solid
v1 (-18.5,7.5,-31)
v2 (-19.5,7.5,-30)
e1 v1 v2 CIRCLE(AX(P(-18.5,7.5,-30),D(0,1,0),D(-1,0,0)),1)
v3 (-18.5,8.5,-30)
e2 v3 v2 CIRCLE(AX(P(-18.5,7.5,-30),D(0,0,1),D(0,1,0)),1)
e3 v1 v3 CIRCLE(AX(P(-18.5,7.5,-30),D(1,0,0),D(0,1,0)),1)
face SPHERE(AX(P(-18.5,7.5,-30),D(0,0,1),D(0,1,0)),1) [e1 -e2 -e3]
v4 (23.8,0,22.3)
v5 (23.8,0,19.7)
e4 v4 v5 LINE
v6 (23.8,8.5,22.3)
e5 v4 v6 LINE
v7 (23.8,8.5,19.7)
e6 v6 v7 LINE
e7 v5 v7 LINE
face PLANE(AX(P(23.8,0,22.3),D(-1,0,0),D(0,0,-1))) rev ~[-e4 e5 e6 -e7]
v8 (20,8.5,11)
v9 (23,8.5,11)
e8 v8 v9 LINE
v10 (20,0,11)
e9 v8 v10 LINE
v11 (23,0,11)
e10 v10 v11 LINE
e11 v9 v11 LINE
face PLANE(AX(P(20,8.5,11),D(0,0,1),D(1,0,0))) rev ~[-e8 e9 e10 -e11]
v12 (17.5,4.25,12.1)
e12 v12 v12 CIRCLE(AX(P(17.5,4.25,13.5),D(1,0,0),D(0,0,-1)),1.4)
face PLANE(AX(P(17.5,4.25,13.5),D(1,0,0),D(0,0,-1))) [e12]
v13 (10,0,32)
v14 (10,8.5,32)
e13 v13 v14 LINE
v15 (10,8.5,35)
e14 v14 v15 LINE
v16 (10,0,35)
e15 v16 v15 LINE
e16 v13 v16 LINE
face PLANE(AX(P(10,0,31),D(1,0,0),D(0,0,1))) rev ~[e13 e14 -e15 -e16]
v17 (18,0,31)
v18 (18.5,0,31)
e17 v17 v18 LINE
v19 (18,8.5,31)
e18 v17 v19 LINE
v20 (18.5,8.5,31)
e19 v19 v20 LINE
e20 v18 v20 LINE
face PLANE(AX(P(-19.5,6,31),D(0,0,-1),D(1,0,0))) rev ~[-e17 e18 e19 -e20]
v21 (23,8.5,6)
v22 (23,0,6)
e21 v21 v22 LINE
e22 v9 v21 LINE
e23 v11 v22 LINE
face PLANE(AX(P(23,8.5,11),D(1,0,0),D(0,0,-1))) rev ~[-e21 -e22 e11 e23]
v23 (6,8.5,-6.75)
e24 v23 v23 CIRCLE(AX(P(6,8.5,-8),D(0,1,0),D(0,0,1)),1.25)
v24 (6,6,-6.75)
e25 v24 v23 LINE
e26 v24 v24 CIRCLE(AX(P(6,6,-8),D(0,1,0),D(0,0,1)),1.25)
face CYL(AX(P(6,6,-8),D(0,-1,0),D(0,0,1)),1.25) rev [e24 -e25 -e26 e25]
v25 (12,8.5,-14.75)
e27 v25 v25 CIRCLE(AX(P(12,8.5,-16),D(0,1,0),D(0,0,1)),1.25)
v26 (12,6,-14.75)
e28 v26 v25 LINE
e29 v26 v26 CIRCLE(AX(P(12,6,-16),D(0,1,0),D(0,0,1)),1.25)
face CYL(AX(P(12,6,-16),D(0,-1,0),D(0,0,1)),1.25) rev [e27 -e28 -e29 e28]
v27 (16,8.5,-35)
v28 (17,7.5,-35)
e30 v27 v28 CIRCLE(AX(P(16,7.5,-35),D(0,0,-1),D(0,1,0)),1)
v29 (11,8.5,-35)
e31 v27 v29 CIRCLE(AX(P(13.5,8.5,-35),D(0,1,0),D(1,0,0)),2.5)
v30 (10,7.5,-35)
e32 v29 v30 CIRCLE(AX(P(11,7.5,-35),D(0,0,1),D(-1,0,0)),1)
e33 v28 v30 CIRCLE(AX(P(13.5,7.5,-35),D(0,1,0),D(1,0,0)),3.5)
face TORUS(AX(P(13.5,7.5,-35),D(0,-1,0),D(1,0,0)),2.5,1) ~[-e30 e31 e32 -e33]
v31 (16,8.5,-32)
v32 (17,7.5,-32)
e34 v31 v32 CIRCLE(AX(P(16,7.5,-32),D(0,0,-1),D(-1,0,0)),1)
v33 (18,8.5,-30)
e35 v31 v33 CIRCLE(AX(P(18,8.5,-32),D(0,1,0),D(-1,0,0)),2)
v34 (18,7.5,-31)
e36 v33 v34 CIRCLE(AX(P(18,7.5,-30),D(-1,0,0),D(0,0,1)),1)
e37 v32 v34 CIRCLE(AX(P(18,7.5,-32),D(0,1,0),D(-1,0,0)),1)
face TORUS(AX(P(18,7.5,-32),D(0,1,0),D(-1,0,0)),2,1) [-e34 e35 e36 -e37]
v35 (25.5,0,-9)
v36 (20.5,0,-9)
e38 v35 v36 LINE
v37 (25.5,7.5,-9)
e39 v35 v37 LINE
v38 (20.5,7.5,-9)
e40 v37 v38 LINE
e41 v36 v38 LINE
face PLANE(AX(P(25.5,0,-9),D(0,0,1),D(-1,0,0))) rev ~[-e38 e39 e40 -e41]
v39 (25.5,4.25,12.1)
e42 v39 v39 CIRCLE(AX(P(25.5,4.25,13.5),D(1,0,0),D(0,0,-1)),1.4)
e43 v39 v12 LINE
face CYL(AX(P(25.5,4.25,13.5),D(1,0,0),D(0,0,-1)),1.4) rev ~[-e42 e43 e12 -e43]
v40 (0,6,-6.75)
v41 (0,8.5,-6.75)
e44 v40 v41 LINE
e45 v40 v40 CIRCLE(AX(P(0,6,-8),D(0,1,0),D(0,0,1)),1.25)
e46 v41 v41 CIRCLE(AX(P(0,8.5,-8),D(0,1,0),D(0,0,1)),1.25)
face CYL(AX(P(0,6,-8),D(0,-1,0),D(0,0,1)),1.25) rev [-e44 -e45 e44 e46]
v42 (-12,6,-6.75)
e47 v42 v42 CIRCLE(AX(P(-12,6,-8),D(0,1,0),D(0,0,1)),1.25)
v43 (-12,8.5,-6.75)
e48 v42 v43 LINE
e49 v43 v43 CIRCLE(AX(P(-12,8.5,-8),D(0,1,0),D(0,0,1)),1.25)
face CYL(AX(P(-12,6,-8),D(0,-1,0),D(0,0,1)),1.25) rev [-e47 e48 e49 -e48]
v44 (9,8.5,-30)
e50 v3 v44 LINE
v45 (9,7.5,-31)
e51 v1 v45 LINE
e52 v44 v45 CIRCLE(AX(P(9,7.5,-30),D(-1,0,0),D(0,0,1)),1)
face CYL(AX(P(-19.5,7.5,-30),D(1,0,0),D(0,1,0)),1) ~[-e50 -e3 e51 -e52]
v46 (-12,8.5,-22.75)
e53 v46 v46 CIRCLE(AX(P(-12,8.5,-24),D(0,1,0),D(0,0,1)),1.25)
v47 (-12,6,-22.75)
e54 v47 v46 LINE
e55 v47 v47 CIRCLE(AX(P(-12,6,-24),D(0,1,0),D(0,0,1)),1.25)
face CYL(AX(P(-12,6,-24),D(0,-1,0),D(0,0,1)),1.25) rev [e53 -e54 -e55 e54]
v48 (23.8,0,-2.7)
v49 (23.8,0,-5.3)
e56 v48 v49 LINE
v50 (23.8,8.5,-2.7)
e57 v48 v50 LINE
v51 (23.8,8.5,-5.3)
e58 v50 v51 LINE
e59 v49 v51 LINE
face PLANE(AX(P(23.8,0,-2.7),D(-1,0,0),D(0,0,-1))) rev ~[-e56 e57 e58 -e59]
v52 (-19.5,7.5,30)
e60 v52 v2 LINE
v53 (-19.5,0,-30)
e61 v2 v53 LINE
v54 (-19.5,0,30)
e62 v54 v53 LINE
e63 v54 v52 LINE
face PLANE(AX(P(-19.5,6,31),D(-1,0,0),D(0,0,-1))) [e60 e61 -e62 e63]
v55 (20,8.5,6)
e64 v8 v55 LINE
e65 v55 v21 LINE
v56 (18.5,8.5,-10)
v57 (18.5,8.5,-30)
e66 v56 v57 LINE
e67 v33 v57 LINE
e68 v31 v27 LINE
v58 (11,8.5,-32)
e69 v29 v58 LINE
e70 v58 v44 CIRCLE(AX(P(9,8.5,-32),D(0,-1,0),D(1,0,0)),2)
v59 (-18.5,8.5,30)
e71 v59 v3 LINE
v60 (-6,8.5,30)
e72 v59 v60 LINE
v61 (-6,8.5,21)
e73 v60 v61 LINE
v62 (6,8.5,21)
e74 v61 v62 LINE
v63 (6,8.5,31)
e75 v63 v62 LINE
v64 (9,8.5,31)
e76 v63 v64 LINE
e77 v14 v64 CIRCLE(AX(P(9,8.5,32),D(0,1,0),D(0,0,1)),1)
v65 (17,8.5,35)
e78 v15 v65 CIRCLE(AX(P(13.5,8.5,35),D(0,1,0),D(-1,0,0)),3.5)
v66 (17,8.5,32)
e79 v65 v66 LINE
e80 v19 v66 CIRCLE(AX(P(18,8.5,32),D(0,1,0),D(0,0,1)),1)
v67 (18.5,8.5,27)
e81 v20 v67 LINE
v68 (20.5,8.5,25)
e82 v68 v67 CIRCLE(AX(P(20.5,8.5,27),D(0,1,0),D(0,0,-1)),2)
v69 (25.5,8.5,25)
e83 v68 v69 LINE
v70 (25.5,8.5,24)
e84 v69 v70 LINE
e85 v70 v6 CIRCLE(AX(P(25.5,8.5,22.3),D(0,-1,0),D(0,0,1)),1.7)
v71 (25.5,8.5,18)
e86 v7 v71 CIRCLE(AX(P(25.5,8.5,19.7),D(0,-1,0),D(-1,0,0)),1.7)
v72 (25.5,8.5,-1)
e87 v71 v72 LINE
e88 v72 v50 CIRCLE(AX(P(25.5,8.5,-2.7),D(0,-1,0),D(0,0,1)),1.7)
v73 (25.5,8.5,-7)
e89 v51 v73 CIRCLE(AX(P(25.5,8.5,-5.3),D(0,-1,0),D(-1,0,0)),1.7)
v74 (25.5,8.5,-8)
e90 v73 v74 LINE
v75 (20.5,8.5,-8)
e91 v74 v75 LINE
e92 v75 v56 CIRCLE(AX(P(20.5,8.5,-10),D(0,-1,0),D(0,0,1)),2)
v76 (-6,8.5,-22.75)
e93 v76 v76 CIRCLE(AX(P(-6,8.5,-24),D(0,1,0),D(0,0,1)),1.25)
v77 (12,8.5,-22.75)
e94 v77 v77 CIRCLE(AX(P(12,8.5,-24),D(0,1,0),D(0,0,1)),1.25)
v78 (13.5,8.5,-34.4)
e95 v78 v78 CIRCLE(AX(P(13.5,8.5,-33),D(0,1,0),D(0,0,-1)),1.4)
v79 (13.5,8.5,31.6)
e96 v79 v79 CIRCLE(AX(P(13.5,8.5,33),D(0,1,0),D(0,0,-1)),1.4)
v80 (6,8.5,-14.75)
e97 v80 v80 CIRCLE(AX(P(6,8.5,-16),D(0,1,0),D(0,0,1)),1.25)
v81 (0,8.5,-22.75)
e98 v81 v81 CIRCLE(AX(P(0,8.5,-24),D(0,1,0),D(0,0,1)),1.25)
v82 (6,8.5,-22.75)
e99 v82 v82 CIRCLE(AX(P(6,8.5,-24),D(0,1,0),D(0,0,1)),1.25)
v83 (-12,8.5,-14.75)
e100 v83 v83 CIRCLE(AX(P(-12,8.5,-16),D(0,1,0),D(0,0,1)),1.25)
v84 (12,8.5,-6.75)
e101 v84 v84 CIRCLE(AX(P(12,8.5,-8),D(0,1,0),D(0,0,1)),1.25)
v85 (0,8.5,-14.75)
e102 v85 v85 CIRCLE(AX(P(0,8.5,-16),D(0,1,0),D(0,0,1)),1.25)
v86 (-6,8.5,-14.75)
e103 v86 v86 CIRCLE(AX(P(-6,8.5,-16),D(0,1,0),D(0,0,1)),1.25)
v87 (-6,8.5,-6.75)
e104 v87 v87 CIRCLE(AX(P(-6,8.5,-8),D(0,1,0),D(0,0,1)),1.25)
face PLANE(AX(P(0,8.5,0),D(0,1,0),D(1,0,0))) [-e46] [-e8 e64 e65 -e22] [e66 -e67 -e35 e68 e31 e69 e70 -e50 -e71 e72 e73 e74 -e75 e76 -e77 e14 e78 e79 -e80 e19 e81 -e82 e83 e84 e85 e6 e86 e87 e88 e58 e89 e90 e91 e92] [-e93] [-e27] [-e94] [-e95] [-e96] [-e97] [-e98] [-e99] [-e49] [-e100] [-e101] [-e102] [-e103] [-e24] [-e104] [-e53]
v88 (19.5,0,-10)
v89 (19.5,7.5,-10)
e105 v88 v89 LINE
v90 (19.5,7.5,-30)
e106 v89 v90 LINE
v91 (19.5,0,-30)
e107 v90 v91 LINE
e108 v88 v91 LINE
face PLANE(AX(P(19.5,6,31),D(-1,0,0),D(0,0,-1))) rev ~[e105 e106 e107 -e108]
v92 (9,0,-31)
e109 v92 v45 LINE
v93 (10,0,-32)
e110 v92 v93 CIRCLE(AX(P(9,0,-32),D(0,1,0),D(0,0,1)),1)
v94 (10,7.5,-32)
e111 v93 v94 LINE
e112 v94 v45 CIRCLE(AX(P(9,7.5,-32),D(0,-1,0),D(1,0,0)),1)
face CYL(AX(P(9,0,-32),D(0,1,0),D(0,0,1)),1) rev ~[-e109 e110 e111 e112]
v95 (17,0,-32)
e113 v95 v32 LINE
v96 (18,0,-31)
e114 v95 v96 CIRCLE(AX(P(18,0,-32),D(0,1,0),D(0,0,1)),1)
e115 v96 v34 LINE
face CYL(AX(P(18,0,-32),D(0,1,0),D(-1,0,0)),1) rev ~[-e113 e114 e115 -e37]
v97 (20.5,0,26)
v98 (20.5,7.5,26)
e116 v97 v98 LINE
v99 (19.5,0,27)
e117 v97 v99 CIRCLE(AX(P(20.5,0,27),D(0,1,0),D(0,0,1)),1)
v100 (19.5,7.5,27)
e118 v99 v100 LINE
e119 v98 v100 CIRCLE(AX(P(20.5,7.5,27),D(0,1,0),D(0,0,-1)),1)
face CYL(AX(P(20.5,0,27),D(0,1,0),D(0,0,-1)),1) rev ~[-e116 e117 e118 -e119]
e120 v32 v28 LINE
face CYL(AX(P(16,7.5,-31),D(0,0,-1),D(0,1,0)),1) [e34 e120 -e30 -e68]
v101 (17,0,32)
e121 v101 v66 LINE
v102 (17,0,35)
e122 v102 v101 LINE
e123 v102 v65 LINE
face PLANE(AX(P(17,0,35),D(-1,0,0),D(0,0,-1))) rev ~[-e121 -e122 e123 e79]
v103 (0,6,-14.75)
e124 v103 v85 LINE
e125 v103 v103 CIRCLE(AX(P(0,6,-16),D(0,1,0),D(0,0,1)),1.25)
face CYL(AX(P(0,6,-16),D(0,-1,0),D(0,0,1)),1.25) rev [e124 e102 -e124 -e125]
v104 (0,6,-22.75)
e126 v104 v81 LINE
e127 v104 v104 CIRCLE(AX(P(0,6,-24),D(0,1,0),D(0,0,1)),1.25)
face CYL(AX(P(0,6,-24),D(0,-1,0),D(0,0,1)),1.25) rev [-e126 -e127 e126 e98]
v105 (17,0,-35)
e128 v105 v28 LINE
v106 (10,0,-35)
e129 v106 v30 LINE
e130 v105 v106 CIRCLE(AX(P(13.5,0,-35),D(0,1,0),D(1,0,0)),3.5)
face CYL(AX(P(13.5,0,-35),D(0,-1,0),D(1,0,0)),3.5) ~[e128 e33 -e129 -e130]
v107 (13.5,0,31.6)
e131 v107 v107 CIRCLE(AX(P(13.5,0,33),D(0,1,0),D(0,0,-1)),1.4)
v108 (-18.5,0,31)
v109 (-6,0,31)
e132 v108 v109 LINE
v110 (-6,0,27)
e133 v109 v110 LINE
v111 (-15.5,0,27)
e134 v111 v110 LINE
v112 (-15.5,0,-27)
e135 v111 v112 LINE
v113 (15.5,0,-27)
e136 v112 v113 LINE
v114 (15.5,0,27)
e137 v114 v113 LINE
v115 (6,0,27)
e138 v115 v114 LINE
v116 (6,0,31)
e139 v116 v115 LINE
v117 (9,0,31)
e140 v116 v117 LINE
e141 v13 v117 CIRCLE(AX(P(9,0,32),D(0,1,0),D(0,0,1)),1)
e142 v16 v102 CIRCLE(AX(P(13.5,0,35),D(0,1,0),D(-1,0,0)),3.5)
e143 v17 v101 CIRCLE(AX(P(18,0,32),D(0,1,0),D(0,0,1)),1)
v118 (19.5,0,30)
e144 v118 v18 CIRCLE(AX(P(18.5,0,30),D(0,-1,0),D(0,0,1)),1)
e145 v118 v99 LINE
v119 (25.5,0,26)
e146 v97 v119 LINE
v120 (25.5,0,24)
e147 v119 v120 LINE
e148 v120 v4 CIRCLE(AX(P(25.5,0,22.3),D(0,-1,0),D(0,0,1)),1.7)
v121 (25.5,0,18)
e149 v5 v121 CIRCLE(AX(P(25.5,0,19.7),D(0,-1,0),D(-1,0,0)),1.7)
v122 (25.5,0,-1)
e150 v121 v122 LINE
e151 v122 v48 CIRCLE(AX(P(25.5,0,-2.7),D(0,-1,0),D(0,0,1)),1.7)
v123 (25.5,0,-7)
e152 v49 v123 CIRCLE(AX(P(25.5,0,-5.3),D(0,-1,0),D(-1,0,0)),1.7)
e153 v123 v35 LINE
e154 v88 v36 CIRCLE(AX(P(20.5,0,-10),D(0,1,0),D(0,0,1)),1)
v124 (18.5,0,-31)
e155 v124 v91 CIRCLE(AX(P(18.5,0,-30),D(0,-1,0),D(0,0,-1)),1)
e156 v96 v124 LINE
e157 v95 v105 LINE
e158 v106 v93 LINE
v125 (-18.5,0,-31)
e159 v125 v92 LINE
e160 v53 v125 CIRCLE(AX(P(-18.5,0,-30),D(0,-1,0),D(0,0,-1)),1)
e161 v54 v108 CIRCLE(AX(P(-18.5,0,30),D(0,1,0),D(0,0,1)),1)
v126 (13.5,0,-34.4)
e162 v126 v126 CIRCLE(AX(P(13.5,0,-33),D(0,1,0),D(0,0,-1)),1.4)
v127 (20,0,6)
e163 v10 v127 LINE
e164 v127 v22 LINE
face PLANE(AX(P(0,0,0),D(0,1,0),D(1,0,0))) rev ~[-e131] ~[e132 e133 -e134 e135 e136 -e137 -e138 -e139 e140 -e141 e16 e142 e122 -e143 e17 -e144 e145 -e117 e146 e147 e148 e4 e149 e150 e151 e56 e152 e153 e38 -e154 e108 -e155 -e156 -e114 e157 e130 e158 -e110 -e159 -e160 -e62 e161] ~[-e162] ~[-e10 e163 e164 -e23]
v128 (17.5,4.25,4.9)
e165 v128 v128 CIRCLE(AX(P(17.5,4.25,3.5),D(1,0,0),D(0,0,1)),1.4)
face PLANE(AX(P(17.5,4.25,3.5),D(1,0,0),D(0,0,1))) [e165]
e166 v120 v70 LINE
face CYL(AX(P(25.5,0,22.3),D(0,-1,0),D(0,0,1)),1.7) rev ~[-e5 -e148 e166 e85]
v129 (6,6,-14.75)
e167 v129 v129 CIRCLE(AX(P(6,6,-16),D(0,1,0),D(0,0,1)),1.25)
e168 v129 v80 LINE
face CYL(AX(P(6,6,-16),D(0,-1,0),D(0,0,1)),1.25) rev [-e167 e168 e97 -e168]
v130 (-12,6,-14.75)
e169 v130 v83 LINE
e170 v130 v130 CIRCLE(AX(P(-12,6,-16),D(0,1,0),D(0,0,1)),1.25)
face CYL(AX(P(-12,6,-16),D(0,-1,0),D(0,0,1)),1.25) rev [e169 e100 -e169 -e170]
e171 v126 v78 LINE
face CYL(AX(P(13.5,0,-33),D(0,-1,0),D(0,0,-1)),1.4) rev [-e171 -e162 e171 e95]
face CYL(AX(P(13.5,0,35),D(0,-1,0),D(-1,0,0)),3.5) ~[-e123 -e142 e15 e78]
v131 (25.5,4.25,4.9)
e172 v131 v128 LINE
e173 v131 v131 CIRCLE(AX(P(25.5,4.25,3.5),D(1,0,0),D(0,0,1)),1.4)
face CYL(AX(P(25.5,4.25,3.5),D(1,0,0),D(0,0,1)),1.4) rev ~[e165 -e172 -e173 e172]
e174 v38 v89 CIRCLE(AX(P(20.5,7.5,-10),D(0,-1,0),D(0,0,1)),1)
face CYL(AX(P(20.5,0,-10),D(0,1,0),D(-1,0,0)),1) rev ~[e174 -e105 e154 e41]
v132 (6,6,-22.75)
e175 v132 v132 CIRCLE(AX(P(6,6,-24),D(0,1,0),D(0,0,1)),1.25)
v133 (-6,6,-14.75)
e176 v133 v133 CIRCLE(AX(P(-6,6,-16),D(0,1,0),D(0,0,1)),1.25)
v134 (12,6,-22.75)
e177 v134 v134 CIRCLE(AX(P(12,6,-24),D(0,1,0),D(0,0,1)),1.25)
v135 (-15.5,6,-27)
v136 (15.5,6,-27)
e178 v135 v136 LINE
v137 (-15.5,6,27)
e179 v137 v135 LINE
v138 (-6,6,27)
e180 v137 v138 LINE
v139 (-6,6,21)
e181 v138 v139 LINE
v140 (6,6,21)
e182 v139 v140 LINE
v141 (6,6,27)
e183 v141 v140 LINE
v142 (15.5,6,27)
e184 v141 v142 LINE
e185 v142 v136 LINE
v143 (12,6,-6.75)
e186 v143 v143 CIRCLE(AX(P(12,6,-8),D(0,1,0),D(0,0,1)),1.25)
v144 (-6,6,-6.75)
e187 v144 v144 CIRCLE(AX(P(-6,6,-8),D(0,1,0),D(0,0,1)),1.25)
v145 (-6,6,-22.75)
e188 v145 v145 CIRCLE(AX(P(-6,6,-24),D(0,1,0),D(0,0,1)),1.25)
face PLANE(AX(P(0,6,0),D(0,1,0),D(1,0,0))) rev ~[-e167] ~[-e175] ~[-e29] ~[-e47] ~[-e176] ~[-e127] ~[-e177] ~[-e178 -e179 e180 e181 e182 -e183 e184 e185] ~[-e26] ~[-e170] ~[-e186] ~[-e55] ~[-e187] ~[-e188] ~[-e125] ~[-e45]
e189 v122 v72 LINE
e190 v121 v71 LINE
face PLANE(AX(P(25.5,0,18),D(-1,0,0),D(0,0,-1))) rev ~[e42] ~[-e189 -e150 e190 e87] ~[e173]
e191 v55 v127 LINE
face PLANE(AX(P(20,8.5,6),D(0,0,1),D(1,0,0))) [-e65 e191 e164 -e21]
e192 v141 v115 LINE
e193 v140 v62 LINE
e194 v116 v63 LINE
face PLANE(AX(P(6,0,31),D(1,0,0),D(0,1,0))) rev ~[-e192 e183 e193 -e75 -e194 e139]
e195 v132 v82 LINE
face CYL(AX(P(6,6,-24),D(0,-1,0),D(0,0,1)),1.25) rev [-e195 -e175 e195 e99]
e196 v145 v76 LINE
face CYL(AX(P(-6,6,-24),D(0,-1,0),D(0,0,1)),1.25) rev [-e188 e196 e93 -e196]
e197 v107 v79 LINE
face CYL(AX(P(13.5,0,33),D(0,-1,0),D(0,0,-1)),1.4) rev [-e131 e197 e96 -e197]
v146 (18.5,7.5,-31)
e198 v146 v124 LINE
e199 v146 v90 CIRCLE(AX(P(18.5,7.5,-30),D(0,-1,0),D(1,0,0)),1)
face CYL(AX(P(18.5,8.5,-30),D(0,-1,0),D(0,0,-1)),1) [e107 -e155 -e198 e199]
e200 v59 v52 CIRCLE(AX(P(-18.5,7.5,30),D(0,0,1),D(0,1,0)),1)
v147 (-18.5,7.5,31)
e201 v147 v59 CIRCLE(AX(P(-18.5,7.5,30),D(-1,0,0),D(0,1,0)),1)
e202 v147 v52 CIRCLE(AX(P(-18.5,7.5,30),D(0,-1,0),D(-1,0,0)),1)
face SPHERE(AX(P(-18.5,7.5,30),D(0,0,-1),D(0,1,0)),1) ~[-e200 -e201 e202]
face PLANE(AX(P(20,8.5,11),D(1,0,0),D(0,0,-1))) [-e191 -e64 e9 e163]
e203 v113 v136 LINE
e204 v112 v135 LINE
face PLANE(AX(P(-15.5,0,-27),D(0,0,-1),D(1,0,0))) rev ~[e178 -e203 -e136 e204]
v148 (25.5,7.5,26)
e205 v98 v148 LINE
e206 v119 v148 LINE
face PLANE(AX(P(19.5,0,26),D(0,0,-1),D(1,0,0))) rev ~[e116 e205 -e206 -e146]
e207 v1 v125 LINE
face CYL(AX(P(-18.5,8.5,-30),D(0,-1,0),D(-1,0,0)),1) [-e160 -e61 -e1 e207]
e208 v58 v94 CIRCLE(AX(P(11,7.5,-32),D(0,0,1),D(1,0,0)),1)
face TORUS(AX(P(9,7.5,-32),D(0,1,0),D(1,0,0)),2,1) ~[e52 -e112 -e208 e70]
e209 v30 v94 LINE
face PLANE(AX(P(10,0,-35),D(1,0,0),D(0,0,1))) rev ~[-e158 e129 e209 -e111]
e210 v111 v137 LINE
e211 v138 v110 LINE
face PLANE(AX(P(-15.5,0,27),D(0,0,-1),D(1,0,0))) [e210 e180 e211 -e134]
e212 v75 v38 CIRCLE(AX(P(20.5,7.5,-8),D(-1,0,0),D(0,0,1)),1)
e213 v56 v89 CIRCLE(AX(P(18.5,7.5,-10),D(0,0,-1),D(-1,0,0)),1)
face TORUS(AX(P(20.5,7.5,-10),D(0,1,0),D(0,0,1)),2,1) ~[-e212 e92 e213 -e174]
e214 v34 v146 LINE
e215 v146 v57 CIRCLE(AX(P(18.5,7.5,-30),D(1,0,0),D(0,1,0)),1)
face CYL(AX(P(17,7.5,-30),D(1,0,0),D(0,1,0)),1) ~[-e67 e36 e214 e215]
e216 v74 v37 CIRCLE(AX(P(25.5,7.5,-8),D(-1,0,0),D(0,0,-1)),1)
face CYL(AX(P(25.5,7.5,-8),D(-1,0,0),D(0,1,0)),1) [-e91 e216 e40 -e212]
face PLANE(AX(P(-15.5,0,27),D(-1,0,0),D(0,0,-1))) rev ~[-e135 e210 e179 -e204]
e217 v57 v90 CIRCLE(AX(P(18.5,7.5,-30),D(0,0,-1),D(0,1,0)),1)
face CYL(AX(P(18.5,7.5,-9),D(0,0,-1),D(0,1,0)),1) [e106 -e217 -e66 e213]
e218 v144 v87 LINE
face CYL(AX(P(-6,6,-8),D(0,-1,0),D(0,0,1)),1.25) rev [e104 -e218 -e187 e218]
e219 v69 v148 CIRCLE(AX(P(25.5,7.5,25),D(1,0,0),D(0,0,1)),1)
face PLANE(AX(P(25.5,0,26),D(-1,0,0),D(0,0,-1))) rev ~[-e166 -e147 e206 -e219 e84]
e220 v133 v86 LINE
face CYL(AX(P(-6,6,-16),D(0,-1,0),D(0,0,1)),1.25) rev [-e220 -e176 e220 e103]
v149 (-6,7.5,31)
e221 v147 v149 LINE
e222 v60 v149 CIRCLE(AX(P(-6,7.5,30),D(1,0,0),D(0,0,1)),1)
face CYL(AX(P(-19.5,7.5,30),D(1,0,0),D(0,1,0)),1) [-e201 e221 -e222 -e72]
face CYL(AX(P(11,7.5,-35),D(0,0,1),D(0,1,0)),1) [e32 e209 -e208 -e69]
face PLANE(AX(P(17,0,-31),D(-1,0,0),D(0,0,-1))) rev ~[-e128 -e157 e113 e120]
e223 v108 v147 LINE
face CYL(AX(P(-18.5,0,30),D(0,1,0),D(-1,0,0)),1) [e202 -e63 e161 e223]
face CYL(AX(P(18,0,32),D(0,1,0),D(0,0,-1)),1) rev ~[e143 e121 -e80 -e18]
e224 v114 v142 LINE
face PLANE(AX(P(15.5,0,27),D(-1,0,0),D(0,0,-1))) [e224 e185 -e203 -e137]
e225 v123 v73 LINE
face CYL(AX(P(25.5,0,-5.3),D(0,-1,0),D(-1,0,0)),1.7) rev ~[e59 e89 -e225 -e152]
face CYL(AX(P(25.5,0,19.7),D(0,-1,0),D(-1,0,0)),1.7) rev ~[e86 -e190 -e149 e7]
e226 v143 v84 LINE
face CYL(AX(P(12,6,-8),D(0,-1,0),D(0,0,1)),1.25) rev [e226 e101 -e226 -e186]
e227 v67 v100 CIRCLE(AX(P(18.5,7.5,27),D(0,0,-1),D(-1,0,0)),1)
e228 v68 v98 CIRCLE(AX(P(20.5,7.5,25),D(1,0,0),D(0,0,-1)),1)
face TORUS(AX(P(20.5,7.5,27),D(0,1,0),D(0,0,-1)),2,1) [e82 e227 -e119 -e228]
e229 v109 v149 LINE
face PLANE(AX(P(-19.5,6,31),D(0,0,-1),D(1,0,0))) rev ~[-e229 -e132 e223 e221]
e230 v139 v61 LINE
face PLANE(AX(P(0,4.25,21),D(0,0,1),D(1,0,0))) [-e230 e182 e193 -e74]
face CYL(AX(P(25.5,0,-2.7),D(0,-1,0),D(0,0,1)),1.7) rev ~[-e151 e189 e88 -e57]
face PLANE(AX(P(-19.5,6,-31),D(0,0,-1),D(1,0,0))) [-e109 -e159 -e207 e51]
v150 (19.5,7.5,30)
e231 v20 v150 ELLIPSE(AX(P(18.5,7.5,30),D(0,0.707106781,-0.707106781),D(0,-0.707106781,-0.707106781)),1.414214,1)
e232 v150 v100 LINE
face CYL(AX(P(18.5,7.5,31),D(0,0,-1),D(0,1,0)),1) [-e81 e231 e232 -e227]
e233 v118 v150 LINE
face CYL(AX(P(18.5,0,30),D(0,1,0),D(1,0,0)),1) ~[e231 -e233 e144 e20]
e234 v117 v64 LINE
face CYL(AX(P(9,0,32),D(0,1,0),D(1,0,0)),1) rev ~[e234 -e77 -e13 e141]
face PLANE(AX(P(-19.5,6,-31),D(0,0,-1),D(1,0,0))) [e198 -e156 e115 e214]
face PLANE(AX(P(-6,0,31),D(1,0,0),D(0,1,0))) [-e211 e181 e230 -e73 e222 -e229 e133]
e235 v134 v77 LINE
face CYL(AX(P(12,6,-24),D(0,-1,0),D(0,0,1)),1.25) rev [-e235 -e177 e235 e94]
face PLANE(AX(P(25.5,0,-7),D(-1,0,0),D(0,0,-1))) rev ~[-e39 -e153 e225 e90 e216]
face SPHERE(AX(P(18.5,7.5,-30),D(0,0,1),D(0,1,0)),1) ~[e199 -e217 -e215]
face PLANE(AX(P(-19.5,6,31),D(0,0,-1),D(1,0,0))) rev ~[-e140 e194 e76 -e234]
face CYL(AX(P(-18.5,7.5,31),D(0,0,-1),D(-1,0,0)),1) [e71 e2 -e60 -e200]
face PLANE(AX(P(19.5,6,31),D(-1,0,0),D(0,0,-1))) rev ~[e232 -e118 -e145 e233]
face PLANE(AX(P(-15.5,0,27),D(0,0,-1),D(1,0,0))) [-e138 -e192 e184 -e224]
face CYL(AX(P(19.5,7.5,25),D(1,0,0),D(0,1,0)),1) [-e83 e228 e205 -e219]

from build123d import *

# Parameters (mm, degrees)
SKETCH1_W                      = 39
SKETCH1_H                      = 62
SKETCH1_W_2                    = 31
SKETCH1_H_2                    = 54
BASE_DEPTH                     = 6
SKETCH2_W                      = 39
SKETCH2_H                      = 62
SKETCH2_R                      = 1.25
TOP_COVER_DEPTH                = 2.5
SKETCH3_R                      = 1.4
MOUNTING_ENDS_DEPTH            = 8.5
BASKET_MOUNTING_EDGE_DEPTH     = 8.5
SKETCH6_R                      = 1.4
BASKET_CLAMP_SCREW_HOLES_DEPTH = 8
SKETCH8_W                      = 12
SKETCH8_H                      = 8.5
USB_OPENING_DEPTH              = 10
F_1MM_EDGE_FILLETS_R           = 1
SKETCH7_W                      = 3
SKETCH7_H                      = 5
ZIP_TIE_HOLE_DEPTH             = 47.954765466


with BuildPart() as part:
    # Sketch1 → Base (new body)
    with BuildSketch(Plane(origin=(0, 0, 0), x_dir=(1, 0, 0), z_dir=(0, 1, 0))):
        Rectangle(SKETCH1_W, SKETCH1_H)
        Rectangle(SKETCH1_W_2, SKETCH1_H_2, mode=Mode.SUBTRACT)
    extrude(amount=BASE_DEPTH)

    # Sketch2 → Top Cover (add)
    with BuildSketch(Plane(origin=(0, 6, 0), x_dir=(1, 0, 0), z_dir=(0, 1, 0))):
        Rectangle(SKETCH2_W, SKETCH2_H)
        with Locations(Location((-12, 24, 0), (0, 0, 270))):
            Circle(SKETCH2_R, mode=Mode.SUBTRACT)
        with Locations(Location((-6, 24, 0), (0, 0, 270))):
            Circle(SKETCH2_R, mode=Mode.SUBTRACT)
        with Locations(Location((0, 24, 0), (0, 0, 270))):
            Circle(SKETCH2_R, mode=Mode.SUBTRACT)
        with Locations(Location((6, 24, 0), (0, 0, 270))):
            Circle(SKETCH2_R, mode=Mode.SUBTRACT)
        with Locations(Location((12, 24, 0), (0, 0, 270))):
            Circle(SKETCH2_R, mode=Mode.SUBTRACT)
        with Locations(Location((-6, 16, 0), (0, 0, 270))):
            Circle(SKETCH2_R, mode=Mode.SUBTRACT)
        with Locations(Location((0, 16, 0), (0, 0, 270))):
            Circle(SKETCH2_R, mode=Mode.SUBTRACT)
        with Locations(Location((6, 16, 0), (0, 0, 270))):
            Circle(SKETCH2_R, mode=Mode.SUBTRACT)
        with Locations(Location((12, 16, 0), (0, 0, 270))):
            Circle(SKETCH2_R, mode=Mode.SUBTRACT)
        with Locations(Location((-6, 8, 0), (0, 0, 270))):
            Circle(SKETCH2_R, mode=Mode.SUBTRACT)
        with Locations(Location((0, 8, 0), (0, 0, 270))):
            Circle(SKETCH2_R, mode=Mode.SUBTRACT)
        with Locations(Location((6, 8, 0), (0, 0, 270))):
            Circle(SKETCH2_R, mode=Mode.SUBTRACT)
        with Locations(Location((12, 8, 0), (0, 0, 270))):
            Circle(SKETCH2_R, mode=Mode.SUBTRACT)
        with Locations(Location((-12, 16, 0), (0, 0, 270))):
            Circle(SKETCH2_R, mode=Mode.SUBTRACT)
        with Locations(Location((-12, 8, 0), (0, 0, 270))):
            Circle(SKETCH2_R, mode=Mode.SUBTRACT)
    extrude(amount=TOP_COVER_DEPTH)

    # Sketch3 → Mounting Ends (add)
    # profile 1 of 2: a face of its own
    with BuildSketch(Plane(origin=(0, 0, 0), x_dir=(1, 0, 0), z_dir=(0, 1, 0))):
        with BuildLine():
            Line((10, 31), (17, 31))
            Line((17, 31), (17, 35))
            ThreePointArc((17, 35), (13.5, 38.5), (10, 35))
            Line((10, 35), (10, 31))
        make_face()
        with Locations(Location((13.5, 33, 0), (0, 0, 90))):
            Circle(SKETCH3_R, mode=Mode.SUBTRACT)
    # profile 2 of 2: a face of its own
    with BuildSketch(Plane(origin=(0, 0, 0), x_dir=(1, 0, 0), z_dir=(0, 1, 0))):
        with BuildLine():
            Line((10, -31), (10, -35))
            ThreePointArc((10, -35), (13.5, -38.5), (17, -35))
            Line((17, -35), (17, -31))
            Line((17, -31), (10, -31))
        make_face()
        with Locations(Location((13.5, -33, 0), (0, 0, 90))):
            Circle(SKETCH3_R, mode=Mode.SUBTRACT)
    extrude(amount=MOUNTING_ENDS_DEPTH)

    # Sketch5 → Basket Mounting Edge (add)
    with BuildSketch(Plane(origin=(0, 0, 0), x_dir=(1, 0, 0), z_dir=(0, 1, 0))):
        with BuildLine():
            Line((19.5, -26), (25.5, -26))
            Line((25.5, -26), (25.5, -24))
            ThreePointArc((25.5, -24), (24.297918472, -23.502081528), (23.8, -22.3))
            Line((23.8, -22.3), (23.8, -19.7))
            ThreePointArc((23.8, -19.7), (24.297918472, -18.497918472), (25.5, -18))
            Line((25.5, -18), (25.5, 1))
            ThreePointArc((25.5, 1), (24.297918472, 1.497918472), (23.8, 2.7))
            Line((23.8, 2.7), (23.8, 5.3))
            ThreePointArc((23.8, 5.3), (24.297918472, 6.502081528), (25.5, 7))
            Line((25.5, 7), (25.5, 9))
            Line((25.5, 9), (19.5, 9))
            Line((19.5, 9), (19.5, -26))
        make_face()
    extrude(amount=BASKET_MOUNTING_EDGE_DEPTH)

    # Sketch6 → Basket Clamp Screw Holes (cut)
    with BuildSketch(Plane(origin=(25.5, 0, 0), x_dir=(0, 0, -1), z_dir=(1, 0, 0))):
        with Locations((-13.5, 4.25)):
            Circle(SKETCH6_R)
        with Locations(Location((-3.5, 4.25, 0), (0, 0, 180))):
            Circle(SKETCH6_R)
    extrude(amount=-BASKET_CLAMP_SCREW_HOLES_DEPTH, mode=Mode.SUBTRACT)

    # Sketch8 → USB Opening (cut)
    with BuildSketch(Plane.XY.offset(31)):
        with Locations((0, 4.25)):
            Rectangle(SKETCH8_W, SKETCH8_H)
    extrude(amount=-USB_OPENING_DEPTH, mode=Mode.SUBTRACT)

    # 1mm Edge Fillets
    f_1mm_edge_fillets_edges = [part.edges().sort_by_distance(p)[0] for p in [
        (19.5, 8.5, -20),
        (19.5, 4.25, -9),
        (19.5, 4.25, 26),
        (22.5, 8.5, -9),
        (22.5, 8.5, 26),
        (-19.5, 8.5, 0),
        (-12.75, 8.5, 31),
        (19.5, 8.5, 28.5),
        (18.25, 8.5, -31),
        (-4.75, 8.5, -31),
        (17, 4.25, -31),
        (10, 4.25, -31),
        (13.5, 8.5, -38.5),
        (10, 8.5, -33),
        (17, 8.5, -33),
        (-19.5, 4.25, -31),
        (19.5, 4.25, -31),
        (19.5, 4.25, 31),
        (-19.5, 4.25, 31),
        (10, 4.25, 31),
        (17, 4.25, 31),
    ]]
    fillet(f_1mm_edge_fillets_edges, radius=F_1MM_EDGE_FILLETS_R)

    # Sketch7 → Zip Tie Hole (cut, through all)
    with BuildSketch(Plane(origin=(0, 8.5, 0), x_dir=(1, 0, 0), z_dir=(0, 1, 0))):
        with Locations((21.5, -8.5)):
            Rectangle(SKETCH7_W, SKETCH7_H)
    extrude(amount=-ZIP_TIE_HOLE_DEPTH, mode=Mode.SUBTRACT)


solid = part.part
